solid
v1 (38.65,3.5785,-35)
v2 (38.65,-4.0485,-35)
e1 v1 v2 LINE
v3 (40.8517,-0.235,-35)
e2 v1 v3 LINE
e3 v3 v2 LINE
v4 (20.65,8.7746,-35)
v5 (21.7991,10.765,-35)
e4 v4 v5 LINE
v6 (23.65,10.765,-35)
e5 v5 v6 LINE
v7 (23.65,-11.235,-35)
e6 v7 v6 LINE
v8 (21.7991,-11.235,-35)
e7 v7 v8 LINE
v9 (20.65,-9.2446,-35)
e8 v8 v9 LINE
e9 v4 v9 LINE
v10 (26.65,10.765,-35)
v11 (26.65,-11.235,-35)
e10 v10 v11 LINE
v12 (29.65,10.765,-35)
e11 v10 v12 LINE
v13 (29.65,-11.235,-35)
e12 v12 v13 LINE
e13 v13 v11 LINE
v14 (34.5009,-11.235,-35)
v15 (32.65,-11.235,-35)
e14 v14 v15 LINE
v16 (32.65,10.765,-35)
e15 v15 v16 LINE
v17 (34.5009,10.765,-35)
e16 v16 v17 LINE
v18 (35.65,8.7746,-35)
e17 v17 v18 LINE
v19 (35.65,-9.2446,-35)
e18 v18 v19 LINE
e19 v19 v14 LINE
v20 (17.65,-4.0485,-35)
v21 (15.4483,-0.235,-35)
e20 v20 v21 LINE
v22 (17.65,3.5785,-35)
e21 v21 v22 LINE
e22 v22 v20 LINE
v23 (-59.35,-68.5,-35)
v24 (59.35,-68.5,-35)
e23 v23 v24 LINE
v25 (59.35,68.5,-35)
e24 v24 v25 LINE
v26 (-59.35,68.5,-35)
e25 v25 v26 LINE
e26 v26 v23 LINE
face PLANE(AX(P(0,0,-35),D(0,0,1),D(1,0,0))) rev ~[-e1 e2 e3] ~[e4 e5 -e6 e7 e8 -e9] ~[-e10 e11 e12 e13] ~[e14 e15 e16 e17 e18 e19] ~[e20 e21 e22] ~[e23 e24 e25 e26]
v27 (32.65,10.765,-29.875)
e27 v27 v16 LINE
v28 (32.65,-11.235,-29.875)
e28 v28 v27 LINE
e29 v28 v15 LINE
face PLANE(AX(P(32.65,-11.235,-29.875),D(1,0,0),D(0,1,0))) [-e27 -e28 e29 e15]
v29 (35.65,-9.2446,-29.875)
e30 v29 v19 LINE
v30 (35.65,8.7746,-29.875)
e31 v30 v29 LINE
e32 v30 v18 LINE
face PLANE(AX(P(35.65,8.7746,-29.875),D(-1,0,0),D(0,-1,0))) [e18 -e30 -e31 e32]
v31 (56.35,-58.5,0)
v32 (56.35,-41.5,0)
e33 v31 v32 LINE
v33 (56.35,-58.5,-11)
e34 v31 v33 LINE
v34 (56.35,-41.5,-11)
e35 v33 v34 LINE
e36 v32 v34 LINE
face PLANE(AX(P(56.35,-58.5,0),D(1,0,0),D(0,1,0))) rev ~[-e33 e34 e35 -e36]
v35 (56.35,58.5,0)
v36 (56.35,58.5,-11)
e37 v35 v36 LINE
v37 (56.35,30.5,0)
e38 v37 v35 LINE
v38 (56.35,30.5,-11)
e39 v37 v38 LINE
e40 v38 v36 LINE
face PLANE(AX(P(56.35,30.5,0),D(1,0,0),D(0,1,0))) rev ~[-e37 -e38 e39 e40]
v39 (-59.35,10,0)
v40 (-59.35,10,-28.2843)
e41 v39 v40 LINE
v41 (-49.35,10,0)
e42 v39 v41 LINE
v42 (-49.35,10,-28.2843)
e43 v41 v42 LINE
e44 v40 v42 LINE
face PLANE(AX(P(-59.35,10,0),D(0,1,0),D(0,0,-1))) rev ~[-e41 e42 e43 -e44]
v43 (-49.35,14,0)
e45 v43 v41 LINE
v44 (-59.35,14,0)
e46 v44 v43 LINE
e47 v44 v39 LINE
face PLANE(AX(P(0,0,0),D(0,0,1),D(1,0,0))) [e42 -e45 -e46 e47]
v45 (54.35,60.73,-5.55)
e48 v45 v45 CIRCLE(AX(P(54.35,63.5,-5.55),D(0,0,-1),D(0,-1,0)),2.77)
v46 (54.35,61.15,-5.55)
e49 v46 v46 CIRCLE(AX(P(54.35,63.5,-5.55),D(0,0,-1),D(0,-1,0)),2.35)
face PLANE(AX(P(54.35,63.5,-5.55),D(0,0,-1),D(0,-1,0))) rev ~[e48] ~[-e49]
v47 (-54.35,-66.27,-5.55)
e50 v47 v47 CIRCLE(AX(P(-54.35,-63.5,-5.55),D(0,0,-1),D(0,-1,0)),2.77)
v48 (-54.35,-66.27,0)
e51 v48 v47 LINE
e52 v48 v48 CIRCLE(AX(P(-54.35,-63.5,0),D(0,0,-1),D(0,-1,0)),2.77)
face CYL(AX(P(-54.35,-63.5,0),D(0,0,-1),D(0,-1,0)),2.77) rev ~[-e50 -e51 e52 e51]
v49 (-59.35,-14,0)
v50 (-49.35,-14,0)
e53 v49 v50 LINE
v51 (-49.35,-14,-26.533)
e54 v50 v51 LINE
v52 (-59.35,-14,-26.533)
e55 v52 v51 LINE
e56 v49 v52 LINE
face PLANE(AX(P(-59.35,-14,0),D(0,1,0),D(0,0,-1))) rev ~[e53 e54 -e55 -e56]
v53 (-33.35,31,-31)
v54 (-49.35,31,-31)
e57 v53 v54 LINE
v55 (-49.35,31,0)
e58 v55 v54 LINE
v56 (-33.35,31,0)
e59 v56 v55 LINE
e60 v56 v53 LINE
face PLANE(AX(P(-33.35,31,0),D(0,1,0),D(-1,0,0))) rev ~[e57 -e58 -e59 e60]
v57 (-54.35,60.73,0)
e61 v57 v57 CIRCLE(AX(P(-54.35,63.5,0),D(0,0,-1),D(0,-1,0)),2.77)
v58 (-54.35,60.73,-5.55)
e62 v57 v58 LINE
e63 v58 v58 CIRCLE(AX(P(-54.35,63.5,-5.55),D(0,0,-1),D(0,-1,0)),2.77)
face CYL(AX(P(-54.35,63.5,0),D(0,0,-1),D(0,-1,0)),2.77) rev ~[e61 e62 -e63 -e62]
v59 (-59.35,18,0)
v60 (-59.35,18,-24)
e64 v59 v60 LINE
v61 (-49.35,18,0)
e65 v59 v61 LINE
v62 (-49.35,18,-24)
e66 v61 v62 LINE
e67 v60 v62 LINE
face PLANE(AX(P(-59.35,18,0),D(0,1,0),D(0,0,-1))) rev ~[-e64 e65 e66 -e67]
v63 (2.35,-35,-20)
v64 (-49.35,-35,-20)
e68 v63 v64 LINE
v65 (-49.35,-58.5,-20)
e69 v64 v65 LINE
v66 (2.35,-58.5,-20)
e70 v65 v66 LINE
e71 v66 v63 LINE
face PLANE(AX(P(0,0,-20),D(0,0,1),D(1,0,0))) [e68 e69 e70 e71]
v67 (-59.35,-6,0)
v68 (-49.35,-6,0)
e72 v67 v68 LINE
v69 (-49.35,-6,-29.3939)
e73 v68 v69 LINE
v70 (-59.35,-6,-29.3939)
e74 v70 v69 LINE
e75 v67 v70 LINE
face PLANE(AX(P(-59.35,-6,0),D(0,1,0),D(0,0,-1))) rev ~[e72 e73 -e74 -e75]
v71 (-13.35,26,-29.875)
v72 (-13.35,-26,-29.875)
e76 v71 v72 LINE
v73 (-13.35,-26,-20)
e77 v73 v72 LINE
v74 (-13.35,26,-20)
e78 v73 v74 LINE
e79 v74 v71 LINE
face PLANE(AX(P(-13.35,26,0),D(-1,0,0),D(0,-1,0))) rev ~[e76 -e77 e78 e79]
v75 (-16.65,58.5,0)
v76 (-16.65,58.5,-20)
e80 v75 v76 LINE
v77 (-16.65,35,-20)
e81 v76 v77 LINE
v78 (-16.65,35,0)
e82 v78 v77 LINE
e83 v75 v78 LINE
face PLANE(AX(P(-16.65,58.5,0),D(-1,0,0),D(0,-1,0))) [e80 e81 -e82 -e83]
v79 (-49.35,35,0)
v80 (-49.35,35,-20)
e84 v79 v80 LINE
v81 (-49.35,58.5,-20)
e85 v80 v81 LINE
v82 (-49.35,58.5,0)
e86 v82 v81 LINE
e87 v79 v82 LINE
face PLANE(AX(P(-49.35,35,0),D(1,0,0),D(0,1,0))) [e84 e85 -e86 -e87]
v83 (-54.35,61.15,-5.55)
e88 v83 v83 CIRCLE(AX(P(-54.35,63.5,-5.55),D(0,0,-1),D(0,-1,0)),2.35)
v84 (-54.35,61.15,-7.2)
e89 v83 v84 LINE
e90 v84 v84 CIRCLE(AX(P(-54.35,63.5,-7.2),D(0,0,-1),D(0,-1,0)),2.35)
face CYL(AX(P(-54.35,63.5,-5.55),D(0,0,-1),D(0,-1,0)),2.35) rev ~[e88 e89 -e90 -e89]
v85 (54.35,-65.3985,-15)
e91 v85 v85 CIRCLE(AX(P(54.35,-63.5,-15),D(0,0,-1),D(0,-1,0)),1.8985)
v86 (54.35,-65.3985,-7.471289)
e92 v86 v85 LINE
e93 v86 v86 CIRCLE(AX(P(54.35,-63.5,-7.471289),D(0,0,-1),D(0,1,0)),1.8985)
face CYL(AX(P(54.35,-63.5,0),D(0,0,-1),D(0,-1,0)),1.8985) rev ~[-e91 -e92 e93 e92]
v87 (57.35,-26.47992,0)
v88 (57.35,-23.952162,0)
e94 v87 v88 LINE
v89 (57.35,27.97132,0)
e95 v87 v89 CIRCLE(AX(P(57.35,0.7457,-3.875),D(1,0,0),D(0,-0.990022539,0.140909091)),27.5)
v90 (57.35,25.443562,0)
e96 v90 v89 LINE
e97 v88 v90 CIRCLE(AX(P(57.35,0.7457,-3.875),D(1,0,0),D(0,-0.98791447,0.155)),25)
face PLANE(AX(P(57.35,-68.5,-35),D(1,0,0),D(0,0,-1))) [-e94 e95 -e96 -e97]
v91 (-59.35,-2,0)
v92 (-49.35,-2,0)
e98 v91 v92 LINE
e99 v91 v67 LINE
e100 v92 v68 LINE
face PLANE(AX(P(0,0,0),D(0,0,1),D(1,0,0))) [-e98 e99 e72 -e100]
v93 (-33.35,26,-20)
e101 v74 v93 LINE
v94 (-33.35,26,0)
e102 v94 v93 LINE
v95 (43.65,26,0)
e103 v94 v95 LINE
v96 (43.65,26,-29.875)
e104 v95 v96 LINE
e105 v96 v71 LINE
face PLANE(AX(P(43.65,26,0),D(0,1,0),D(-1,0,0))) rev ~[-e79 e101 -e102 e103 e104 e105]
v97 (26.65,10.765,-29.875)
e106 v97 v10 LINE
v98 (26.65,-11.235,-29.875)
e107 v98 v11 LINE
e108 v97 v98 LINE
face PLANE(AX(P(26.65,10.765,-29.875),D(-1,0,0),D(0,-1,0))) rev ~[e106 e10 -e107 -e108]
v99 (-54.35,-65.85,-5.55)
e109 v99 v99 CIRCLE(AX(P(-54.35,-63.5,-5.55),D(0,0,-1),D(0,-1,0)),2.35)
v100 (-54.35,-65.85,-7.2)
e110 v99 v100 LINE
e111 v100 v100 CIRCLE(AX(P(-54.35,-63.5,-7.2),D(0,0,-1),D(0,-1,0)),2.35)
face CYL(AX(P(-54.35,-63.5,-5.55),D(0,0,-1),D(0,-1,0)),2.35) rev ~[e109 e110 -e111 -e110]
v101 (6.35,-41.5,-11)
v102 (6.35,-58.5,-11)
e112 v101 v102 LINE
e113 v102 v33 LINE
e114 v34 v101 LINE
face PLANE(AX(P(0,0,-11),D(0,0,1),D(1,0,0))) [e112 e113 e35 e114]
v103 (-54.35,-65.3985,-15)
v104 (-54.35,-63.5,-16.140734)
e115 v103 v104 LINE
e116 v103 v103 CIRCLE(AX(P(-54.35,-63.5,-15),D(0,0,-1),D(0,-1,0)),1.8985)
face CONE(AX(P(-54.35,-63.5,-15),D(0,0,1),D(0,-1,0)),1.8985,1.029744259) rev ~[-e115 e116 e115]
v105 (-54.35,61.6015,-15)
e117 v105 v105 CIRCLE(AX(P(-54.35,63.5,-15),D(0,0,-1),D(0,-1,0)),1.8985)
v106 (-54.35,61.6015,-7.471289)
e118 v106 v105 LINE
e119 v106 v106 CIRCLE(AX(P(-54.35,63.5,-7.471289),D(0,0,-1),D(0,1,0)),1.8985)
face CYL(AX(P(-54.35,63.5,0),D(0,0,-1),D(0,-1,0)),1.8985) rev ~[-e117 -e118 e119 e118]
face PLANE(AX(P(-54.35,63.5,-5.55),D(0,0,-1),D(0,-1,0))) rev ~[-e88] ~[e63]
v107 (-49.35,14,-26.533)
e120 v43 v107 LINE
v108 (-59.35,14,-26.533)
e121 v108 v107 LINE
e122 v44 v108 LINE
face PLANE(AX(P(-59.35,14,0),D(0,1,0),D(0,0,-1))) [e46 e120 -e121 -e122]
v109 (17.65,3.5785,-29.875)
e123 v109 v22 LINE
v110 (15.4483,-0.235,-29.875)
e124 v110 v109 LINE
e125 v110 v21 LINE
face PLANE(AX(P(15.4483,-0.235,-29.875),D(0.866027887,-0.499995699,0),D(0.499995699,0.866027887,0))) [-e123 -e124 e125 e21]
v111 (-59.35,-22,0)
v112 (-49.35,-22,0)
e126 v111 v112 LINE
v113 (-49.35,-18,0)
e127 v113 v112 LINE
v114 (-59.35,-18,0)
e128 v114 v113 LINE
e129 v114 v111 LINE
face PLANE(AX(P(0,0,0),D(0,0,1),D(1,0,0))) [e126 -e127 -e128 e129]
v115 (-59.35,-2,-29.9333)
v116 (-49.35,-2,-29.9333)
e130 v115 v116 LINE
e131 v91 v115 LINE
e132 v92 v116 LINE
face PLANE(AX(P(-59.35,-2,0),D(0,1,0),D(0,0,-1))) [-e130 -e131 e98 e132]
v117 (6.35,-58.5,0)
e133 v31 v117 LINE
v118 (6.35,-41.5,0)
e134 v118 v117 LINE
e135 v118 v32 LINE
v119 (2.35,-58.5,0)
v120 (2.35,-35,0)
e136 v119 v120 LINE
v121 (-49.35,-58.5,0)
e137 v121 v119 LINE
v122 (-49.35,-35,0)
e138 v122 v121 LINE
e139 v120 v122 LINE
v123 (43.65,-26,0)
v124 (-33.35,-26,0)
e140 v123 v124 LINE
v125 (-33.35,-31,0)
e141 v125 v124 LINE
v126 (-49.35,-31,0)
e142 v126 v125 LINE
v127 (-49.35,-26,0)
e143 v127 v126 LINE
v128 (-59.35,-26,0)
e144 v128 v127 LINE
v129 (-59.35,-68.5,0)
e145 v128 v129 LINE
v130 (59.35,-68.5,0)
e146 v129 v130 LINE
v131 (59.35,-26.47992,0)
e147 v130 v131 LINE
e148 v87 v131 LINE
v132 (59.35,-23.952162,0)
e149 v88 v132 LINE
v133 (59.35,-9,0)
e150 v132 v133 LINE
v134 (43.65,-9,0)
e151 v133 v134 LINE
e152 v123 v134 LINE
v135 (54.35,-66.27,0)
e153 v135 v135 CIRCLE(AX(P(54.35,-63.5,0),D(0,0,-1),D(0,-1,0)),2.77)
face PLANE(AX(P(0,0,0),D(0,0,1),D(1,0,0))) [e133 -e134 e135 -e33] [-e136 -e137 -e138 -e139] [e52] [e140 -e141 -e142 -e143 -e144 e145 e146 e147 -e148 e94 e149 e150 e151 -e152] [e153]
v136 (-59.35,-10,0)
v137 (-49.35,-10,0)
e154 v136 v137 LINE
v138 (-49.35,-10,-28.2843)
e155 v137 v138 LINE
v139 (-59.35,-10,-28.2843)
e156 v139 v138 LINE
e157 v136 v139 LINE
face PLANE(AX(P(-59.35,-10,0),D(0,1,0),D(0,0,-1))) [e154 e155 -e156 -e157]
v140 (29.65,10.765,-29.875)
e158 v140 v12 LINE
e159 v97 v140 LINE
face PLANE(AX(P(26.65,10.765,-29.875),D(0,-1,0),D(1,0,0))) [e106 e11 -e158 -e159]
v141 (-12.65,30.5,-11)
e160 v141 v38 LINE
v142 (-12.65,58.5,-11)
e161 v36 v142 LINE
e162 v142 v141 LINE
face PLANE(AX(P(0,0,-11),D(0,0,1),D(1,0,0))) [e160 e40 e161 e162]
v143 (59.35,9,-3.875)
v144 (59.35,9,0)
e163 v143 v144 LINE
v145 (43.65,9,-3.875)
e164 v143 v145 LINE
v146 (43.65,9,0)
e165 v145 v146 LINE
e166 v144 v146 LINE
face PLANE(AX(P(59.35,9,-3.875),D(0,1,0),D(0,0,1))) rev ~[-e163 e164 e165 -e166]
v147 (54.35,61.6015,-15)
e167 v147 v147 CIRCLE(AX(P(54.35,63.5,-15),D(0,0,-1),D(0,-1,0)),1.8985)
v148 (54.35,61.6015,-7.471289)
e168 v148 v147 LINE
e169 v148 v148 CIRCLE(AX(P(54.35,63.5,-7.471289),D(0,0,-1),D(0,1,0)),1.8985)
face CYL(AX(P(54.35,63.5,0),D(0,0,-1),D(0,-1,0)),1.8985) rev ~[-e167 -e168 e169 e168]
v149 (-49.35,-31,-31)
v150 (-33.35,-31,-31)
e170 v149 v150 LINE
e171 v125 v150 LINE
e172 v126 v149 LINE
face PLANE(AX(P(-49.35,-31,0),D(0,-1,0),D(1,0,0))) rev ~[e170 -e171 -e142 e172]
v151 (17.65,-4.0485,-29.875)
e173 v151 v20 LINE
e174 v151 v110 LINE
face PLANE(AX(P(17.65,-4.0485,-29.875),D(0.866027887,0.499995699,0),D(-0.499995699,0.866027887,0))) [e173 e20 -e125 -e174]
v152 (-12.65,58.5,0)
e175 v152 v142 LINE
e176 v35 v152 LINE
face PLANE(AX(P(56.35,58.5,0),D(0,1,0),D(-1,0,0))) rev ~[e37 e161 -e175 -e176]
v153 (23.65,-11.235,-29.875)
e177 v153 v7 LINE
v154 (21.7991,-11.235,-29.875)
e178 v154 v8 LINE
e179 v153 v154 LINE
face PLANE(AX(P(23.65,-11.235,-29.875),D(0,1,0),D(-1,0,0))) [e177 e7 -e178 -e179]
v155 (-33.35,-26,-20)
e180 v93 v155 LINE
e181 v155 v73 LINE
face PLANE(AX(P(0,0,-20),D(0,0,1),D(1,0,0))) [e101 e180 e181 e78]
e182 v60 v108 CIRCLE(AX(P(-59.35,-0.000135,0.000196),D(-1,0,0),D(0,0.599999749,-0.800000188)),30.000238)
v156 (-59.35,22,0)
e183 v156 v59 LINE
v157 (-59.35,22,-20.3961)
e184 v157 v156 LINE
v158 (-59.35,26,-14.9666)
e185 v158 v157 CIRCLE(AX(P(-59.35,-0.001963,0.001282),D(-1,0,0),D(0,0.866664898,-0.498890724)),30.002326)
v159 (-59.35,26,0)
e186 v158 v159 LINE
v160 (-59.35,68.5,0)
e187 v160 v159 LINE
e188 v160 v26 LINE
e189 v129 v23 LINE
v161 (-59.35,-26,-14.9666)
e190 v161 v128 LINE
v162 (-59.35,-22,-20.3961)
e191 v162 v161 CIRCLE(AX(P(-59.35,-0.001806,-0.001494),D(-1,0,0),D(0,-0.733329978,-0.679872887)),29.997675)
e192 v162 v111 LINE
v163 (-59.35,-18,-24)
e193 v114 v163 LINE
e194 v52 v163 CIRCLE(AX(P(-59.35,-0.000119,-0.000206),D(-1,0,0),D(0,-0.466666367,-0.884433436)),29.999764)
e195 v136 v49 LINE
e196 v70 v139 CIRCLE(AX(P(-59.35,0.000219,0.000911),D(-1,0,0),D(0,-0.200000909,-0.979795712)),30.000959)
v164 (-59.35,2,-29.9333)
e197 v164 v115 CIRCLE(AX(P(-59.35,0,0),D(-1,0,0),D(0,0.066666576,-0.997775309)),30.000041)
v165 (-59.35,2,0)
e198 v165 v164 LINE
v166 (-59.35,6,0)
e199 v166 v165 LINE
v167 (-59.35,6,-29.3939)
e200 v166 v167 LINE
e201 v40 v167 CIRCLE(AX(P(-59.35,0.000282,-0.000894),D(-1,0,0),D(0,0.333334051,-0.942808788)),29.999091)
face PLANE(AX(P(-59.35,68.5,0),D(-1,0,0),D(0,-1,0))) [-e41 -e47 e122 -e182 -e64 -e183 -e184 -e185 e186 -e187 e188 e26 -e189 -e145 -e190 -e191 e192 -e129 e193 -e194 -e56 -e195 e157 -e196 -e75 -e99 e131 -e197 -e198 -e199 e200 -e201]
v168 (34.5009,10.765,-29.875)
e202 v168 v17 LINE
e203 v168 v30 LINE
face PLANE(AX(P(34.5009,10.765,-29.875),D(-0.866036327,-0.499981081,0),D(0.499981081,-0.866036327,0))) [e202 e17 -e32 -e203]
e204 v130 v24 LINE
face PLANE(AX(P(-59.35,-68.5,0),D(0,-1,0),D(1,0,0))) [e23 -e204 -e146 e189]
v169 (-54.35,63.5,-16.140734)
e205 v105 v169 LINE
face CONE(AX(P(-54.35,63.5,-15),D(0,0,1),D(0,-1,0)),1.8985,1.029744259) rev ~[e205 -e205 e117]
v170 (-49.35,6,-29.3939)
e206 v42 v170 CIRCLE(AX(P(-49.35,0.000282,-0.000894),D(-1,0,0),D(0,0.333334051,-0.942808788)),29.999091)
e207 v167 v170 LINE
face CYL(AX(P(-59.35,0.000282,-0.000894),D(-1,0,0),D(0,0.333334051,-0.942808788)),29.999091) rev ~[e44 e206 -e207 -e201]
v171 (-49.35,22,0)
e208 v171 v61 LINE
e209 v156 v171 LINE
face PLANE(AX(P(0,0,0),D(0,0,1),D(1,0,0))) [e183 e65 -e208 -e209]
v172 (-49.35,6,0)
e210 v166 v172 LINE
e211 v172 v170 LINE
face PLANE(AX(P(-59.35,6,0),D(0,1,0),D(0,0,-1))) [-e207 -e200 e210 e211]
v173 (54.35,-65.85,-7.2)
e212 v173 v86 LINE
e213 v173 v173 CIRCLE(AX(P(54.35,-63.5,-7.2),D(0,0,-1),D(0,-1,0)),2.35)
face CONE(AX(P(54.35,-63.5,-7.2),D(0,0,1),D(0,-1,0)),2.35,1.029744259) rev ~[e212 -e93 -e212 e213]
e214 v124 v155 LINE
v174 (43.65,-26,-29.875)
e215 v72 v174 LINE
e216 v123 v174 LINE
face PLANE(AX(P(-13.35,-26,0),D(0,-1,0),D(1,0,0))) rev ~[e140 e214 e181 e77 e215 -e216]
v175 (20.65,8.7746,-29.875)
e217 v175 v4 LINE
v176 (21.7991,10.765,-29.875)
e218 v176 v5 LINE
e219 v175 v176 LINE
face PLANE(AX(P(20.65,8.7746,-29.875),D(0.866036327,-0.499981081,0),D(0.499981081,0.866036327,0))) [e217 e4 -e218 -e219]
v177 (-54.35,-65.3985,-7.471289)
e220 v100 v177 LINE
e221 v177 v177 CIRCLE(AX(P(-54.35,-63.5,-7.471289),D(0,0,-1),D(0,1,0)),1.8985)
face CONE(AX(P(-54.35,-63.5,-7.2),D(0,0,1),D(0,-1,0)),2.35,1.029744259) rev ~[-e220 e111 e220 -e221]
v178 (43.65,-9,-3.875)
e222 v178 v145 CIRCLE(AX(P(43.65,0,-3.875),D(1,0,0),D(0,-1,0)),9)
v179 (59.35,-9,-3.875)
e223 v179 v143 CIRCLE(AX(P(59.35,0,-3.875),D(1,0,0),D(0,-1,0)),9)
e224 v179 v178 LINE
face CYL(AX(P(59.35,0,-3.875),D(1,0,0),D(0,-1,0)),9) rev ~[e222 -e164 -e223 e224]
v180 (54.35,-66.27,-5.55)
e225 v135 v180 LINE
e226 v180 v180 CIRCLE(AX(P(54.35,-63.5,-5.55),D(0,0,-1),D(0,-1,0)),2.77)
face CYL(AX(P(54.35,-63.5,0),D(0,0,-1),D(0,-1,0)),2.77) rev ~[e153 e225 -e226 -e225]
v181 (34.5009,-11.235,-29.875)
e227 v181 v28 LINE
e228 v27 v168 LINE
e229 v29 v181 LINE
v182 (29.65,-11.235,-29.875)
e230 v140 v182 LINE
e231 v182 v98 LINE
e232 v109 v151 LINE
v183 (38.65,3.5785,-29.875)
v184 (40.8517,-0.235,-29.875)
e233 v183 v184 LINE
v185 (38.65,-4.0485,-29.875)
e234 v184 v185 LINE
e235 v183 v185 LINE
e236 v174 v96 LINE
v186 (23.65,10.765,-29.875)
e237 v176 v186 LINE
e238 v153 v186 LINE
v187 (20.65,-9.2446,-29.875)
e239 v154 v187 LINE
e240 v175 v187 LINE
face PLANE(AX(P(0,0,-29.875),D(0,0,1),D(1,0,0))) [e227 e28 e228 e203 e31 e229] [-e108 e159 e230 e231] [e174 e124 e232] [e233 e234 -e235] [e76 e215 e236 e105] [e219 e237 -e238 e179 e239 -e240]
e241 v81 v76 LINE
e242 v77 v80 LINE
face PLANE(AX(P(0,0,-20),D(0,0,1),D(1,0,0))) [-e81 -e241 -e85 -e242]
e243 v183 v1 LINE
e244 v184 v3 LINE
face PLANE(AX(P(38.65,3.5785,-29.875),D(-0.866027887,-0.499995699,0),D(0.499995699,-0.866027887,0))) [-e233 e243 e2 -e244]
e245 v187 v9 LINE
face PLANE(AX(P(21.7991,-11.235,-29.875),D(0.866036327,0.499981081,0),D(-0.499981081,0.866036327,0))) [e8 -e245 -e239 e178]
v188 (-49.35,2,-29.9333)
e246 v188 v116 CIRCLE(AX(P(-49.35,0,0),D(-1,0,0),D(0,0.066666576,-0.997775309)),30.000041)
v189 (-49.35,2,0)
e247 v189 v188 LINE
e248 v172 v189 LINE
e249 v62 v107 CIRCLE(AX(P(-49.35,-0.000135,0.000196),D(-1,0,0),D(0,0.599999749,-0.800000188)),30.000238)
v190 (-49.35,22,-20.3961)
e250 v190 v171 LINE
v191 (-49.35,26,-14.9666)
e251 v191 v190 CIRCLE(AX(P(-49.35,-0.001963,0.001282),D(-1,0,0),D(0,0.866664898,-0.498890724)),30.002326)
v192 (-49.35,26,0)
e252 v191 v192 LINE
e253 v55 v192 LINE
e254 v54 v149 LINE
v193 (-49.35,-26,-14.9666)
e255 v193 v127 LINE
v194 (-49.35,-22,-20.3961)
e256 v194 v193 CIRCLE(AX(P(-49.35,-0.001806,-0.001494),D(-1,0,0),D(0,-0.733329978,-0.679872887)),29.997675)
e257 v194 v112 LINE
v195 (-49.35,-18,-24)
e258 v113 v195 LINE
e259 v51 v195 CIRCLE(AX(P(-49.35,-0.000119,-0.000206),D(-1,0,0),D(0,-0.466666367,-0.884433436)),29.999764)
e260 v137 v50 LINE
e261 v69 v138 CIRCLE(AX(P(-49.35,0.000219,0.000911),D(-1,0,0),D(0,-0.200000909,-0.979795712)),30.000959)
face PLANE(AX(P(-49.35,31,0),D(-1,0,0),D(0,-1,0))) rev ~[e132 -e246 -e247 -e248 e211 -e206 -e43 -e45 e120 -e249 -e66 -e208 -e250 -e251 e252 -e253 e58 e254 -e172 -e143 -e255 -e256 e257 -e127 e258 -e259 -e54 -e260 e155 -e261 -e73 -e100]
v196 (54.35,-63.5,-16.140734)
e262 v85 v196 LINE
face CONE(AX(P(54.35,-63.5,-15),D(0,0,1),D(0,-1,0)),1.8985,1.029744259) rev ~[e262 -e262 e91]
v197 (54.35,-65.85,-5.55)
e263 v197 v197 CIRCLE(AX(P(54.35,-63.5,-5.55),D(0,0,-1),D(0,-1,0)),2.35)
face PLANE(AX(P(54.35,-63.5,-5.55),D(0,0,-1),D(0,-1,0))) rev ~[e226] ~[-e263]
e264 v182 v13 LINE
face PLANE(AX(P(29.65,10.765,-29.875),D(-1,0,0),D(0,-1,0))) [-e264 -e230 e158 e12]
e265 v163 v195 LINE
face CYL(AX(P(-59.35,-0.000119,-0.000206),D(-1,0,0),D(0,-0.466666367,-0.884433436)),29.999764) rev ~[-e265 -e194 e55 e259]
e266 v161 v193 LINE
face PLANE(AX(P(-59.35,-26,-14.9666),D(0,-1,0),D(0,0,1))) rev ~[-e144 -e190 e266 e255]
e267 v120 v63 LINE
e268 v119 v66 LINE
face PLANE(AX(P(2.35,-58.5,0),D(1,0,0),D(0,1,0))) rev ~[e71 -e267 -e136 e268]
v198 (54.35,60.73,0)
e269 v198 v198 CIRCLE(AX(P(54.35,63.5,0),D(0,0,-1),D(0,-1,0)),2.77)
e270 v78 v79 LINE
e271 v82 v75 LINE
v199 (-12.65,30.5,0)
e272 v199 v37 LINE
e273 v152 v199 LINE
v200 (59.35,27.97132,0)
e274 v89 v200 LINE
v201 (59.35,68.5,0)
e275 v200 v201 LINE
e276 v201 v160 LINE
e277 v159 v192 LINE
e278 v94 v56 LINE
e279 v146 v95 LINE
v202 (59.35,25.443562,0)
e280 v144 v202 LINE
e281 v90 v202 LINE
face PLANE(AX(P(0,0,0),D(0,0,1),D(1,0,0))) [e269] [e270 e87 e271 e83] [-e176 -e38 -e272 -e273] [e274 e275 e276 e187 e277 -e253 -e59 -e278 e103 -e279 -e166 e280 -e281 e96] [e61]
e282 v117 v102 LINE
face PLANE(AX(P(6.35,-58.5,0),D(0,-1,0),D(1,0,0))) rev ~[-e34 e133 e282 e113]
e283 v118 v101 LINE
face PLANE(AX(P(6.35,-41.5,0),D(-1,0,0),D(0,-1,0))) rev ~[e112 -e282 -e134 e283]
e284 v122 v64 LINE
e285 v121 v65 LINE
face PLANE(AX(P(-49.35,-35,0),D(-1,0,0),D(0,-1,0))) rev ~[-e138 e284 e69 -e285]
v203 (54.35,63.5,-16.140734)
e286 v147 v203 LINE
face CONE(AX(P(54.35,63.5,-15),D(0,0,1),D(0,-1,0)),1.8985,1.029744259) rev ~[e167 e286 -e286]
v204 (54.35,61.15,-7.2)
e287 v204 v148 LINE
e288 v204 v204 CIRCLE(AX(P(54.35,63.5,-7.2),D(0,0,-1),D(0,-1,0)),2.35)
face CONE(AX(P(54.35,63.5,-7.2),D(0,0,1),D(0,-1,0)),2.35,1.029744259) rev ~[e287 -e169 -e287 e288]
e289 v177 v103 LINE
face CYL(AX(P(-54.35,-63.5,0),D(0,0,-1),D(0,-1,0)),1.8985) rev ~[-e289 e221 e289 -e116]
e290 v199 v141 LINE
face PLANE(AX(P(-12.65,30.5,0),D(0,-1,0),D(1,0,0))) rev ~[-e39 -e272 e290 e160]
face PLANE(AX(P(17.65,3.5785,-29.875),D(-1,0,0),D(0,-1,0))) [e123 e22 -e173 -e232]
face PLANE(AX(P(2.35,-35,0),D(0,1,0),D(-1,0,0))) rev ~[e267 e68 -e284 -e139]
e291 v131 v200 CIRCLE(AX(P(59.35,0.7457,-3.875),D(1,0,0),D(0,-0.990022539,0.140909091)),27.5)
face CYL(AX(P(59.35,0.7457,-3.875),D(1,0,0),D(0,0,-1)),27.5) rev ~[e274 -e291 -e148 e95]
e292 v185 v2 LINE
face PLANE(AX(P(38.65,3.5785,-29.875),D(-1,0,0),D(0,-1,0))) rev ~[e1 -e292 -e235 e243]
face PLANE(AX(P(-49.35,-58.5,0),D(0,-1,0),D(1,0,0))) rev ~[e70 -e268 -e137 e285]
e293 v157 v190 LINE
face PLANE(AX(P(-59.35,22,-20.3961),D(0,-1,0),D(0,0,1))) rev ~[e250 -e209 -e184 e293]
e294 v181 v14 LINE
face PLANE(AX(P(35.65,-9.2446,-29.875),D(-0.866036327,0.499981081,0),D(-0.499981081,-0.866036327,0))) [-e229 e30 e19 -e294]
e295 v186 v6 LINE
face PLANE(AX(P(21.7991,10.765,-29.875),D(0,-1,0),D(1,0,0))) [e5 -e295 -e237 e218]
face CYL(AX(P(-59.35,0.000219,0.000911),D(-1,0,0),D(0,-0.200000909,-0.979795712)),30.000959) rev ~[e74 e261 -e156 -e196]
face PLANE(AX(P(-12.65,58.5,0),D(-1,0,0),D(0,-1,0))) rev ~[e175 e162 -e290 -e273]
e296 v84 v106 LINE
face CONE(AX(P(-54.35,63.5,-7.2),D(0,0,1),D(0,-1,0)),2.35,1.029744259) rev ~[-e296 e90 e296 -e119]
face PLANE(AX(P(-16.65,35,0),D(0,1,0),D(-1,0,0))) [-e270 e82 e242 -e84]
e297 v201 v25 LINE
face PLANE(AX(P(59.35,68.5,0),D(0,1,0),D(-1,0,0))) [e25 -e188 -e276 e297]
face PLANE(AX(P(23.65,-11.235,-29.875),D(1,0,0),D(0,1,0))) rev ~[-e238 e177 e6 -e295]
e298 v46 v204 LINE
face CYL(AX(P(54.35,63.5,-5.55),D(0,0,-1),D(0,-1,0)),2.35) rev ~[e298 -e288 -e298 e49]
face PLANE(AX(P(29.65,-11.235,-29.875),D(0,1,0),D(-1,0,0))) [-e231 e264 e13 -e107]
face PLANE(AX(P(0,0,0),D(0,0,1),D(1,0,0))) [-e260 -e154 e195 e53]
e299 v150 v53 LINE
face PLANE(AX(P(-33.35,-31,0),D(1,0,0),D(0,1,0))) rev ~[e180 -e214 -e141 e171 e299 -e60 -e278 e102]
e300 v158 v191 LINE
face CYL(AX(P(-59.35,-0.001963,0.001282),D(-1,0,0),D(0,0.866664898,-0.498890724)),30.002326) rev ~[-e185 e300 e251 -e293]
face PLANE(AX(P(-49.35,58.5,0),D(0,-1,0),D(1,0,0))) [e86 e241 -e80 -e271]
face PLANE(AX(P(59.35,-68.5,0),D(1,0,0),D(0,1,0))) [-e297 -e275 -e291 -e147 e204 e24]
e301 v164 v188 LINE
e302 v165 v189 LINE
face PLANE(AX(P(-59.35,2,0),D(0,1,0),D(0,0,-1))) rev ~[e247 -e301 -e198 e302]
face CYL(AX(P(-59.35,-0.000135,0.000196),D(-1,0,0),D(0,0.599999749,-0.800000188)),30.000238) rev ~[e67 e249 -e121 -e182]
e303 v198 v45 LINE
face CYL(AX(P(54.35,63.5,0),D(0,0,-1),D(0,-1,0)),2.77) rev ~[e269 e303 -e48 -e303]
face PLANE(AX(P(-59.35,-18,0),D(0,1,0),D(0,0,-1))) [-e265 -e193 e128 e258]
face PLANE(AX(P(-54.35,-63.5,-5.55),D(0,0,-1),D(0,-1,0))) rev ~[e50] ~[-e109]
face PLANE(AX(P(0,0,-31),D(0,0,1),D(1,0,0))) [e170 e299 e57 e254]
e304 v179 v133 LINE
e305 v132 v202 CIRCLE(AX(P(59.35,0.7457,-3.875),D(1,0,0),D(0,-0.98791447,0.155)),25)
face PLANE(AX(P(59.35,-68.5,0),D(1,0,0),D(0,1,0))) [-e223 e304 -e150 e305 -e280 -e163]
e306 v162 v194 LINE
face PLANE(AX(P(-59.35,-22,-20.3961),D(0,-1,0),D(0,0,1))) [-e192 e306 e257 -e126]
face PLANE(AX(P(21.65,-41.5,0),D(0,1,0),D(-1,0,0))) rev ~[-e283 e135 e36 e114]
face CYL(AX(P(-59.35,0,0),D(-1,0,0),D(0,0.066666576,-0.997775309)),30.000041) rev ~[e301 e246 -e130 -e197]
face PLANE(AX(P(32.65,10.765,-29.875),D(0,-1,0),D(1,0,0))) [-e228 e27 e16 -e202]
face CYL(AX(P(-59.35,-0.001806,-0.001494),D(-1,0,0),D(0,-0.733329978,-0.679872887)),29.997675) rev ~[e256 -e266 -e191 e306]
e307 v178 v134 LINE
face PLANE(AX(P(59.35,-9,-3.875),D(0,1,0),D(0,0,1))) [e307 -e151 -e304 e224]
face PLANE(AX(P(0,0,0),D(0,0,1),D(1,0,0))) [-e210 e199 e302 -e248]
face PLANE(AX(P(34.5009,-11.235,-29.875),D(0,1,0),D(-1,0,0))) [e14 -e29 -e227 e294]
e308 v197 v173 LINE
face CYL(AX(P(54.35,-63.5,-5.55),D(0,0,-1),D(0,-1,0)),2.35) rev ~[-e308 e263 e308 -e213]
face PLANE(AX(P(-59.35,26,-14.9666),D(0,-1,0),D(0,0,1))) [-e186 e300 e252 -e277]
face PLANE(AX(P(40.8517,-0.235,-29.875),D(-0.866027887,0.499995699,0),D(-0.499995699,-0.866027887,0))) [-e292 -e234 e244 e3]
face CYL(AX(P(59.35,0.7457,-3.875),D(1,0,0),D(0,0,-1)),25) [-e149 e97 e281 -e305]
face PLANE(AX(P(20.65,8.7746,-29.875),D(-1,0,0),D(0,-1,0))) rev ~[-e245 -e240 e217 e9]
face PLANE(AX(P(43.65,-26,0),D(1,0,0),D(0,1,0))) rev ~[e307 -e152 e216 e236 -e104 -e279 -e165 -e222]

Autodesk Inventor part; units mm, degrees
ref_plane "XY Plane" through (0, 0, 0) normal (0, 0, 1) x (1, 0, 0)
sketch "Sketch1" plane through (0, 0, 0) normal (0, 0, 1) x (1, 0, 0)
  line L0 (-59.35, -68.5) -> (59.35, -68.5)
  line L1 (59.35, -68.5) -> (59.35, 68.5)
  line L2 (59.35, 68.5) -> (-59.35, 68.5)
  line L3 (-59.35, 68.5) -> (-59.35, -68.5)
  line L4 (-59.35, -68.5) -> (59.35, 68.5) construction
  line L5 (59.35, -68.5) -> (-59.35, 68.5) construction
  point P0 (0, 0)
  dimension "d0" = 118.7
  dimension "d1" = 137
extrude "MainInnerBodyExtrusion" add sketch "Sketch1" against normal blind 35
sketch "Sketch3" plane through (0, 0, 0) normal (0, 0, 1) x (1, 0, 0)
  line L0 (-13.35, -26) -> (43.65, -26)
  line L1 (43.65, -26) -> (43.65, 26)
  line L2 (43.65, 26) -> (-13.35, 26)
  line L3 (-13.35, 26) -> (-13.35, -26)
  line L4 (-13.35, -26) -> (43.65, 26) construction
  line L5 (43.65, -26) -> (-13.35, 26) construction
  line L6 (59.35, -68.5) -> (59.35, 68.5) projected
  line L7 (0, 0) -> (59.35, 0) construction
  line L8 (-59.35, -68.5) -> (-59.35, 68.5) construction
  line L9 (-59.35, 68.5) -> (-59.35, -68.5) projected
  point P0 (15.15, 0)
  point P1 (15.15, 0)
  dimension "d5" = 15.7
  dimension "d6" = 52
  dimension "d7" = 57
extrude "HoleForCameraCase" cut sketch "Sketch3" against normal blind 29.875
sketch "Sketch4" plane through (0, 0, 0) normal (0, 0, 1) x (1, 0, 0)
  line L0 (0, 0) -> (-59.35, 0) construction
  line L1 (-59.35, -68.5) -> (-59.35, 68.5) construction
  line L2 (-49.35, -31) -> (-33.35, -31)
  line L3 (-33.35, -31) -> (-33.35, 31)
  line L4 (-33.35, 31) -> (-49.35, 31)
  line L5 (-49.35, 31) -> (-49.35, -31)
  line L6 (-49.35, -31) -> (-33.35, 31) construction
  line L7 (-33.35, -31) -> (-49.35, 31) construction
  point P0 (-41.35, 0)
  dimension "d13" = 16
  dimension "d14" = 62
  dimension "d15" = 10
extrude "HoleForFan" cut sketch "Sketch4" against normal blind 31
sketch "Sketch10" plane through (0, 0, 0) normal (0, 0, 1) x (1, 0, 0)
  line L0 (-12.65, 30.5) -> (56.35, 30.5)
  line L1 (56.35, 30.5) -> (56.35, 58.5)
  line L2 (56.35, 58.5) -> (-12.65, 58.5)
  line L3 (-12.65, 58.5) -> (-12.65, 30.5)
  line L4 (-12.65, 30.5) -> (56.35, 58.5) construction
  line L5 (56.35, 30.5) -> (-12.65, 58.5) construction
  line L6 (59.35, 68.5) -> (-59.35, 68.5) projected
  line L7 (59.35, -68.5) -> (59.35, 68.5) projected
  point P0 (0, 0)
  point P1 (21.85, 44.5)
  point P2 (94.85, 8.5)
  point P3 (56.35, 44.5)
  dimension "d36" = 69
  dimension "d37" = 28
  dimension "d85" = 3
  dimension "d162" = 10
extrude "HoleForThermister" cut sketch "Sketch10" against normal blind 11
sketch "Sketch11" plane through (0, 0, 0) normal (0, 0, 1) x (1, 0, 0)
  line L0 (6.35, -58.5) -> (56.35, -58.5)
  line L1 (56.35, -58.5) -> (56.35, -41.5)
  line L2 (56.35, -41.5) -> (6.35, -41.5)
  line L3 (6.35, -41.5) -> (6.35, -58.5)
  line L4 (6.35, -58.5) -> (56.35, -41.5) construction
  line L5 (56.35, -58.5) -> (6.35, -41.5) construction
  line L6 (59.35, -68.5) -> (59.35, 68.5) projected
  line L7 (-59.35, -68.5) -> (59.35, -68.5) projected
  line L8 (43.65, -26) -> (-13.35, -26) projected
  line L9 (21.65, 64.5) -> (21.65, -64.5) projected
  point P0 (0, 0)
  point P1 (31.35, -50)
  point P2 (94.85, -8.5)
  point P3 (31.35, -41.5)
  point P4 (6.35, -50)
  point P5 (59.35, 68.5)
  dimension "d42" = 50
  dimension "d43" = 17
  dimension "d86" = 3
  dimension "d87" = 10
extrude "HoleForSensor" cut sketch "Sketch11" against normal blind 11
sketch "Sketch15" plane through (-59.35, -68.5, 0) normal (-1, 0, 0) x (0, 0, 1)
  line L0 (0, 137) -> (0, 0) projected
  line L1 (0, 137) -> (-35, 137) projected
  line L2 (-35, 0) -> (-35, 137) projected
  line L3 (0, 0) -> (-35, 0) projected
  line L4 (0, 0) -> (0, 137) projected
  line L5 (0, 94.5) -> (0, 42.5) projected
  line L6 (0, 68.5) -> (-30, 68.5) construction
  line L7 (0, 70.5) -> (-29.9333, 70.5)
  line L8 (0, 78.5) -> (-28.2843, 78.5)
  line L9 (0, 74.5) -> (-29.3939, 74.5)
  line L10 (0, 70.5) -> (0, 68.5)
  line L11 (0, 82.5) -> (-26.533, 82.5)
  line L12 (0, 86.5) -> (-24, 86.5)
  line L13 (-20.3961, 90.5) -> (0, 90.5)
  line L14 (-14.9666, 94.5) -> (0, 94.5)
  line L15 (0, 78.5) -> (0, 74.5)
  line L16 (0, 94.5) -> (0, 90.5)
  line L17 (0, 86.5) -> (0, 82.5)
  line L18 (0, 66.5) -> (-29.9333, 66.5)
  line L19 (0, 58.5) -> (-28.2843, 58.5)
  line L20 (0, 62.5) -> (-29.3939, 62.5)
  line L21 (0, 66.5) -> (0, 68.5)
  line L22 (0, 54.5) -> (-26.533, 54.5)
  line L23 (0, 50.5) -> (-24, 50.5)
  line L24 (-20.3961, 46.5) -> (0, 46.5)
  line L25 (-14.9666, 42.5) -> (0, 42.5)
  line L26 (0, 58.5) -> (0, 62.5)
  line L27 (0, 50.5) -> (0, 54.5)
  line L28 (0, 42.5) -> (0, 46.5)
  line L29 (0, 66.5) -> (0, 70.5)
  line L30 (0, 74.5) -> (0, 78.5)
  line L31 (0, 82.5) -> (0, 86.5)
  line L32 (0, 90.5) -> (0, 137)
  arc A0 (-28.2843, 78.5) -> (-29.3939, 74.5) centre (0, 68.5) ccw
  arc A1 (-14.9666, 94.5) -> (-20.3961, 90.5) centre (0, 68.5) ccw
  arc A2 (-24, 86.5) -> (-26.533, 82.5) centre (0, 68.5) ccw
  arc A3 (-29.9333, 70.5) -> (-29.9333, 66.5) centre (0, 68.5) ccw
  arc A4 (-29.3939, 62.5) -> (-28.2843, 58.5) centre (0, 68.5) ccw
  arc A5 (-26.533, 54.5) -> (-24, 50.5) centre (0, 68.5) ccw
  arc A6 (-20.3961, 46.5) -> (-14.9666, 42.5) centre (0, 68.5) ccw
  point P0 (0, 68.5)
  point P1 (0, 82)
  point P2 (0, 67.0167)
  point P3 (0, 4.25)
  point P4 (-10.198, 90.5)
  point P5 (0, 46.5)
  point P6 (0, 50.5)
  point P7 (0, 54.5)
  point P8 (0, 58.5)
  point P9 (0, 62.5)
  point P10 (0, 66.5)
  point P11 (0, 74.5)
  point P12 (0, 78.5)
  point P13 (0, 82.5)
  point P14 (0, 86.5)
  point P15 (0, 90.5)
  point P16 (0, 94.5)
  dimension "d69" = 2
  dimension "d71" = 4
  dimension "d72" = 4
  dimension "d73" = 4
  dimension "d75" = 4
  dimension "d142" = 30
extrude "SlotsForRearFan" cut sketch "Sketch15" against normal up to surface (10 mm away) contours L0 L13 A1 L14 | L0 L11 A2 L12 | L25 A6 L24 L0 | L0 L9 A0 L8 | L23 A5 L22 L0 | L0 L18 A3 L7 | L19 A4 L20 L0
sketch "Sketch16" plane through (0, 0, -29.875) normal (0, 0, 1) x (1, 0, 0)
  line L0 (43.65, 26) -> (43.65, -26) projected
  line L1 (28.15, 10.765) -> (28.15, -11.235) construction
  line L2 (26.65, 10.765) -> (26.65, -11.235)
  line L3 (23.65, -11.235) -> (23.65, 10.765)
  line L4 (20.65, 8.7746) -> (20.65, -9.2446)
  line L5 (17.65, 3.5785) -> (17.65, -4.0485)
  line L6 (29.65, 10.765) -> (29.65, -11.235)
  line L7 (32.65, -11.235) -> (32.65, 10.765)
  line L8 (35.65, 8.7746) -> (35.65, -9.2446)
  line L9 (38.65, 3.5785) -> (38.65, -4.0485)
  line L10 (21.7991, 10.765) -> (23.65, 10.765)
  line L11 (23.65, -11.235) -> (21.7991, -11.235)
  line L12 (21.7991, -11.235) -> (20.65, -9.2446)
  line L13 (17.65, -4.0485) -> (15.4483, -0.235)
  line L14 (15.4483, -0.235) -> (17.65, 3.5785)
  line L15 (20.65, 8.7746) -> (21.7991, 10.765)
  line L16 (26.65, 10.765) -> (29.65, 10.765)
  line L17 (32.65, 10.765) -> (34.5009, 10.765)
  line L18 (34.5009, -11.235) -> (32.65, -11.235)
  line L19 (29.65, -11.235) -> (26.65, -11.235)
  line L20 (40.8517, -0.235) -> (38.65, -4.0485)
  line L21 (35.65, -9.2446) -> (34.5009, -11.235)
  line L22 (34.5009, 10.765) -> (35.65, 8.7746)
  line L23 (38.65, 3.5785) -> (40.8517, -0.235)
  point P0 (0, 0)
  point P1 (28.15, -0.235)
  point P2 (17.65, -0.235)
  dimension "d78" = 15.5
  dimension "d89" = 1.5
  dimension "d90" = 3
  dimension "d91" = 3
  dimension "d92" = 3
extrude "VentForCamera" cut sketch "Sketch16" against normal through all
sketch "Sketch18" plane through (59.35, -68.5, 0) normal (1, 0, 0) x (0, 0, -1)
  line L0 (0, 68.5) -> (29.6767, 68.5) construction
  arc A0 (3.875, 59.5) -> (3.875, 77.5) centre (3.875, 68.5) ccw
  line L1 (0, 0) -> (0, 137) projected
  line L2 (3.875, 77.5) -> (0, 77.5)
  line L3 (3.875, 59.5) -> (0, 59.5)
  line L4 (0, 77.5) -> (0, 59.5)
  dimension "d97" = 18
  dimension "d137" = 3.875
extrude "HoleForLens" cut sketch "Sketch18" against normal blind 20
sketch "Sketch23" plane through (0, 0, 0) normal (0, 0, 1) x (1, 0, 0)
  line L0 (-54.35, -63.5) -> (54.35, -63.5) construction
  line L1 (54.35, -63.5) -> (54.35, 63.5) construction
  line L2 (54.35, 63.5) -> (-54.35, 63.5) construction
  line L3 (-54.35, 63.5) -> (-54.35, -63.5) construction
  line L4 (-54.35, -63.5) -> (54.35, 63.5) construction
  line L5 (54.35, -63.5) -> (-54.35, 63.5) construction
  line L6 (59.35, -68.5) -> (59.35, -9) projected
  line L7 (59.35, 68.5) -> (-59.35, 68.5) projected
  line L8 (-13.35, -26) -> (-13.35, 26) projected
  line L9 (-33.35, 31) -> (-33.35, -31) projected
  line L10 (-33.35, 31) -> (-33.35, -31) projected
  line L11 (-13.35, 26) -> (-33.35, 26)
  line L12 (-33.35, 26) -> (-33.35, -26)
  line L13 (-33.35, -26) -> (-13.35, -26)
  line L14 (-13.35, -26) -> (-13.35, 26)
  point P0 (0, 0)
  dimension "d106" = 5
  dimension "d108" = 5
hole "Hole for 6-32 Insert" at (-54.35, 63.5, 0) at (54.35, 63.5, 0) at (54.35, -63.5, 0) at (-54.35, -63.5, 0) direction (0, 0, -1) diameter 4.7 depth 7.2 tip angle 118 counterbore diameter 5.54 counterbore depth 5.55
hole "Screw hole for 6-32 screw" at (-54.35, -63.5, 0) at (54.35, -63.5, 0) at (54.35, 63.5, 0) at (-54.35, 63.5, 0) direction (0, 0, -1) diameter 3.797 depth 15 tip angle 118 clearance for "Hex Machine Screw" size "#6" standard "Ansi Unified Screw Threads"
sketch "HoleFor50mmLensCover" plane through (59.35, -68.5, -35) normal (1, 0, 0) x (0, 0, -1)
  arc A0 (-31.125, 59.5) -> (-31.125, 77.5) centre (-31.125, 68.5) ccw projected
  circle A1 centre (-31.125, 69.2457) radius 27.5
  circle A2 centre (-31.125, 69.2457) radius 25
  point P0 (-35, 68.5)
  dimension "d163" = 55
  dimension "d164" = 50
extrude "HoleForLensCover" cut sketch "HoleFor50mmLensCover" against normal blind 2
sketch "Sketch30" plane through (0, 0, 0) normal (0, 0, 1) x (1, 0, 0)
  line L0 (-33.35, 31) -> (-33.35, -31) projected
  line L1 (-13.35, -26) -> (-13.35, 26) projected
  line L2 (-13.35, -26) -> (-13.35, 26) projected
  line L3 (-33.35, 31) -> (-33.35, -31) projected
  line L4 (-13.35, 26) -> (-33.35, 26)
  line L5 (-33.35, 26) -> (-33.35, -26)
  line L6 (-33.35, -26) -> (-13.35, -26)
  line L7 (-13.35, -26) -> (-13.35, 26)
  line L8 (-13.35, 26) -> (43.65, 26) projected
  line L9 (43.65, -26) -> (-13.35, -26) projected
  point P0 (0, 0)
  point P1 (-33.35, -26)
extrude "Extrusion21" cut sketch "Sketch30" against normal blind 20
sketch "Sketch31" plane through (0, 0, 0) normal (0, 0, 1) x (1, 0, 0)
  line L0 (-49.35, -58.5) -> (2.35, -58.5)
  line L1 (2.35, -58.5) -> (2.35, -35)
  line L2 (2.35, -35) -> (-49.35, -35)
  line L3 (-49.35, -35) -> (-49.35, -58.5)
  line L4 (-59.35, -26) -> (-59.35, -68.5) projected
  line L5 (-59.35, -68.5) -> (59.35, -68.5) projected
  line L6 (6.35, -58.5) -> (6.35, -41.5) projected
  line L7 (-33.35, -31) -> (-49.35, -31) projected
  line L8 (-49.35, 58.5) -> (-16.65, 58.5)
  line L9 (-16.65, 58.5) -> (-16.65, 35)
  line L10 (-16.65, 35) -> (-49.35, 35)
  line L11 (-49.35, 35) -> (-49.35, 58.5)
  line L12 (-59.35, 68.5) -> (-59.35, 26) projected
  line L13 (59.35, 68.5) -> (-59.35, 68.5) projected
  line L14 (-49.35, 31) -> (-33.35, 31) projected
  line L15 (-12.65, 30.5) -> (-12.65, 58.5) projected
  point P0 (0, 0)
  point P1 (-49.35, -46.75)
  point P2 (-41.35, -31)
  point P3 (-33, 58.5)
  dimension "d169" = 10
  dimension "d170" = 10
  dimension "d171" = 4
  dimension "d172" = 4
  dimension "d173" = 10
  dimension "d174" = 10
  dimension "d175" = 4
  dimension "d176" = 4
extrude "Extrusion22" cut sketch "Sketch31" against normal blind 20
equation "\"d0\" = caseLength"
equation "\"d2\" = caseDepth"
equation "\"d5\" = lensLength"
equation "\"d6\" = cameraWidth"
equation "\"d7\" = cameraLength"
equation "\"d13\" = fanDepth"
equation "\"d14\" = fanWidth"
equation "\"d15\" = rearWallThickness"
equation "\"d36\" = thermisterLength"
equation "\"d37\" = thermisterWidth"
equation "\"d85\" = frontWallThickness"
equation "\"d42\" = sensorLength"
equation "\"d43\" = sensorWidth"
equation "\"d86\" = frontWallThickness"
equation "\"d87\" = outsideWallThickness"
equation "\"outsideWallThickness\" = 10"
equation "\"caseWidth\" = 137"
equation "\"lensLength\" = 15.7"
equation "\"lensDiameter\" = 17"
equation "\"thickenDistance\" = 1"
equation "\"bottomOfCaseWallThickness\" = 3"
equation "\"rearWallThickness\" = 10"
equation "\"maxComponentDepth\" = 32"
equation "\"caseDepth\" = maxComponentDepth + bottomOfCaseWallThickness"
equation "\"fanCutoutDepth\" = 0.5 * fanLength + extraCutoutDepth + thickenDistance"
equation "\"caseLength\" = 118.7"
equation "\"frontWallThickness\" = 3"
equation "\"d95\" = lensDiameter"
equation "\"extraCutoutDepth\" = 15.5"
equation "\"halfFanDepth\" = 31"
equation "\"cameraCaseDepth\" = 57.75"
equation "\"halfCameraCaseDepth\" = 29.875"
equation "\"halfThirmesterDepth\" = 11"
equation "\"halfSensorDepth\" = 11"
equation "\"depthForLensSlot\" = 3.875"
equation "\"cameraWidth\" = 52"
equation "\"cameraLength\" = 57"
equation "\"fanDepth\" = 16"
equation "\"fanWidth\" = 62"
equation "\"thermisterLength\" = 69"
equation "\"thermisterWidth\" = 28"
equation "\"sensorLength\" = 50"
equation "\"sensorWidth\" = 17"
equation "\"fanLength\" = 60"
properties part number "caseLowerPortionV02" material "PC/ABS Plastic"
